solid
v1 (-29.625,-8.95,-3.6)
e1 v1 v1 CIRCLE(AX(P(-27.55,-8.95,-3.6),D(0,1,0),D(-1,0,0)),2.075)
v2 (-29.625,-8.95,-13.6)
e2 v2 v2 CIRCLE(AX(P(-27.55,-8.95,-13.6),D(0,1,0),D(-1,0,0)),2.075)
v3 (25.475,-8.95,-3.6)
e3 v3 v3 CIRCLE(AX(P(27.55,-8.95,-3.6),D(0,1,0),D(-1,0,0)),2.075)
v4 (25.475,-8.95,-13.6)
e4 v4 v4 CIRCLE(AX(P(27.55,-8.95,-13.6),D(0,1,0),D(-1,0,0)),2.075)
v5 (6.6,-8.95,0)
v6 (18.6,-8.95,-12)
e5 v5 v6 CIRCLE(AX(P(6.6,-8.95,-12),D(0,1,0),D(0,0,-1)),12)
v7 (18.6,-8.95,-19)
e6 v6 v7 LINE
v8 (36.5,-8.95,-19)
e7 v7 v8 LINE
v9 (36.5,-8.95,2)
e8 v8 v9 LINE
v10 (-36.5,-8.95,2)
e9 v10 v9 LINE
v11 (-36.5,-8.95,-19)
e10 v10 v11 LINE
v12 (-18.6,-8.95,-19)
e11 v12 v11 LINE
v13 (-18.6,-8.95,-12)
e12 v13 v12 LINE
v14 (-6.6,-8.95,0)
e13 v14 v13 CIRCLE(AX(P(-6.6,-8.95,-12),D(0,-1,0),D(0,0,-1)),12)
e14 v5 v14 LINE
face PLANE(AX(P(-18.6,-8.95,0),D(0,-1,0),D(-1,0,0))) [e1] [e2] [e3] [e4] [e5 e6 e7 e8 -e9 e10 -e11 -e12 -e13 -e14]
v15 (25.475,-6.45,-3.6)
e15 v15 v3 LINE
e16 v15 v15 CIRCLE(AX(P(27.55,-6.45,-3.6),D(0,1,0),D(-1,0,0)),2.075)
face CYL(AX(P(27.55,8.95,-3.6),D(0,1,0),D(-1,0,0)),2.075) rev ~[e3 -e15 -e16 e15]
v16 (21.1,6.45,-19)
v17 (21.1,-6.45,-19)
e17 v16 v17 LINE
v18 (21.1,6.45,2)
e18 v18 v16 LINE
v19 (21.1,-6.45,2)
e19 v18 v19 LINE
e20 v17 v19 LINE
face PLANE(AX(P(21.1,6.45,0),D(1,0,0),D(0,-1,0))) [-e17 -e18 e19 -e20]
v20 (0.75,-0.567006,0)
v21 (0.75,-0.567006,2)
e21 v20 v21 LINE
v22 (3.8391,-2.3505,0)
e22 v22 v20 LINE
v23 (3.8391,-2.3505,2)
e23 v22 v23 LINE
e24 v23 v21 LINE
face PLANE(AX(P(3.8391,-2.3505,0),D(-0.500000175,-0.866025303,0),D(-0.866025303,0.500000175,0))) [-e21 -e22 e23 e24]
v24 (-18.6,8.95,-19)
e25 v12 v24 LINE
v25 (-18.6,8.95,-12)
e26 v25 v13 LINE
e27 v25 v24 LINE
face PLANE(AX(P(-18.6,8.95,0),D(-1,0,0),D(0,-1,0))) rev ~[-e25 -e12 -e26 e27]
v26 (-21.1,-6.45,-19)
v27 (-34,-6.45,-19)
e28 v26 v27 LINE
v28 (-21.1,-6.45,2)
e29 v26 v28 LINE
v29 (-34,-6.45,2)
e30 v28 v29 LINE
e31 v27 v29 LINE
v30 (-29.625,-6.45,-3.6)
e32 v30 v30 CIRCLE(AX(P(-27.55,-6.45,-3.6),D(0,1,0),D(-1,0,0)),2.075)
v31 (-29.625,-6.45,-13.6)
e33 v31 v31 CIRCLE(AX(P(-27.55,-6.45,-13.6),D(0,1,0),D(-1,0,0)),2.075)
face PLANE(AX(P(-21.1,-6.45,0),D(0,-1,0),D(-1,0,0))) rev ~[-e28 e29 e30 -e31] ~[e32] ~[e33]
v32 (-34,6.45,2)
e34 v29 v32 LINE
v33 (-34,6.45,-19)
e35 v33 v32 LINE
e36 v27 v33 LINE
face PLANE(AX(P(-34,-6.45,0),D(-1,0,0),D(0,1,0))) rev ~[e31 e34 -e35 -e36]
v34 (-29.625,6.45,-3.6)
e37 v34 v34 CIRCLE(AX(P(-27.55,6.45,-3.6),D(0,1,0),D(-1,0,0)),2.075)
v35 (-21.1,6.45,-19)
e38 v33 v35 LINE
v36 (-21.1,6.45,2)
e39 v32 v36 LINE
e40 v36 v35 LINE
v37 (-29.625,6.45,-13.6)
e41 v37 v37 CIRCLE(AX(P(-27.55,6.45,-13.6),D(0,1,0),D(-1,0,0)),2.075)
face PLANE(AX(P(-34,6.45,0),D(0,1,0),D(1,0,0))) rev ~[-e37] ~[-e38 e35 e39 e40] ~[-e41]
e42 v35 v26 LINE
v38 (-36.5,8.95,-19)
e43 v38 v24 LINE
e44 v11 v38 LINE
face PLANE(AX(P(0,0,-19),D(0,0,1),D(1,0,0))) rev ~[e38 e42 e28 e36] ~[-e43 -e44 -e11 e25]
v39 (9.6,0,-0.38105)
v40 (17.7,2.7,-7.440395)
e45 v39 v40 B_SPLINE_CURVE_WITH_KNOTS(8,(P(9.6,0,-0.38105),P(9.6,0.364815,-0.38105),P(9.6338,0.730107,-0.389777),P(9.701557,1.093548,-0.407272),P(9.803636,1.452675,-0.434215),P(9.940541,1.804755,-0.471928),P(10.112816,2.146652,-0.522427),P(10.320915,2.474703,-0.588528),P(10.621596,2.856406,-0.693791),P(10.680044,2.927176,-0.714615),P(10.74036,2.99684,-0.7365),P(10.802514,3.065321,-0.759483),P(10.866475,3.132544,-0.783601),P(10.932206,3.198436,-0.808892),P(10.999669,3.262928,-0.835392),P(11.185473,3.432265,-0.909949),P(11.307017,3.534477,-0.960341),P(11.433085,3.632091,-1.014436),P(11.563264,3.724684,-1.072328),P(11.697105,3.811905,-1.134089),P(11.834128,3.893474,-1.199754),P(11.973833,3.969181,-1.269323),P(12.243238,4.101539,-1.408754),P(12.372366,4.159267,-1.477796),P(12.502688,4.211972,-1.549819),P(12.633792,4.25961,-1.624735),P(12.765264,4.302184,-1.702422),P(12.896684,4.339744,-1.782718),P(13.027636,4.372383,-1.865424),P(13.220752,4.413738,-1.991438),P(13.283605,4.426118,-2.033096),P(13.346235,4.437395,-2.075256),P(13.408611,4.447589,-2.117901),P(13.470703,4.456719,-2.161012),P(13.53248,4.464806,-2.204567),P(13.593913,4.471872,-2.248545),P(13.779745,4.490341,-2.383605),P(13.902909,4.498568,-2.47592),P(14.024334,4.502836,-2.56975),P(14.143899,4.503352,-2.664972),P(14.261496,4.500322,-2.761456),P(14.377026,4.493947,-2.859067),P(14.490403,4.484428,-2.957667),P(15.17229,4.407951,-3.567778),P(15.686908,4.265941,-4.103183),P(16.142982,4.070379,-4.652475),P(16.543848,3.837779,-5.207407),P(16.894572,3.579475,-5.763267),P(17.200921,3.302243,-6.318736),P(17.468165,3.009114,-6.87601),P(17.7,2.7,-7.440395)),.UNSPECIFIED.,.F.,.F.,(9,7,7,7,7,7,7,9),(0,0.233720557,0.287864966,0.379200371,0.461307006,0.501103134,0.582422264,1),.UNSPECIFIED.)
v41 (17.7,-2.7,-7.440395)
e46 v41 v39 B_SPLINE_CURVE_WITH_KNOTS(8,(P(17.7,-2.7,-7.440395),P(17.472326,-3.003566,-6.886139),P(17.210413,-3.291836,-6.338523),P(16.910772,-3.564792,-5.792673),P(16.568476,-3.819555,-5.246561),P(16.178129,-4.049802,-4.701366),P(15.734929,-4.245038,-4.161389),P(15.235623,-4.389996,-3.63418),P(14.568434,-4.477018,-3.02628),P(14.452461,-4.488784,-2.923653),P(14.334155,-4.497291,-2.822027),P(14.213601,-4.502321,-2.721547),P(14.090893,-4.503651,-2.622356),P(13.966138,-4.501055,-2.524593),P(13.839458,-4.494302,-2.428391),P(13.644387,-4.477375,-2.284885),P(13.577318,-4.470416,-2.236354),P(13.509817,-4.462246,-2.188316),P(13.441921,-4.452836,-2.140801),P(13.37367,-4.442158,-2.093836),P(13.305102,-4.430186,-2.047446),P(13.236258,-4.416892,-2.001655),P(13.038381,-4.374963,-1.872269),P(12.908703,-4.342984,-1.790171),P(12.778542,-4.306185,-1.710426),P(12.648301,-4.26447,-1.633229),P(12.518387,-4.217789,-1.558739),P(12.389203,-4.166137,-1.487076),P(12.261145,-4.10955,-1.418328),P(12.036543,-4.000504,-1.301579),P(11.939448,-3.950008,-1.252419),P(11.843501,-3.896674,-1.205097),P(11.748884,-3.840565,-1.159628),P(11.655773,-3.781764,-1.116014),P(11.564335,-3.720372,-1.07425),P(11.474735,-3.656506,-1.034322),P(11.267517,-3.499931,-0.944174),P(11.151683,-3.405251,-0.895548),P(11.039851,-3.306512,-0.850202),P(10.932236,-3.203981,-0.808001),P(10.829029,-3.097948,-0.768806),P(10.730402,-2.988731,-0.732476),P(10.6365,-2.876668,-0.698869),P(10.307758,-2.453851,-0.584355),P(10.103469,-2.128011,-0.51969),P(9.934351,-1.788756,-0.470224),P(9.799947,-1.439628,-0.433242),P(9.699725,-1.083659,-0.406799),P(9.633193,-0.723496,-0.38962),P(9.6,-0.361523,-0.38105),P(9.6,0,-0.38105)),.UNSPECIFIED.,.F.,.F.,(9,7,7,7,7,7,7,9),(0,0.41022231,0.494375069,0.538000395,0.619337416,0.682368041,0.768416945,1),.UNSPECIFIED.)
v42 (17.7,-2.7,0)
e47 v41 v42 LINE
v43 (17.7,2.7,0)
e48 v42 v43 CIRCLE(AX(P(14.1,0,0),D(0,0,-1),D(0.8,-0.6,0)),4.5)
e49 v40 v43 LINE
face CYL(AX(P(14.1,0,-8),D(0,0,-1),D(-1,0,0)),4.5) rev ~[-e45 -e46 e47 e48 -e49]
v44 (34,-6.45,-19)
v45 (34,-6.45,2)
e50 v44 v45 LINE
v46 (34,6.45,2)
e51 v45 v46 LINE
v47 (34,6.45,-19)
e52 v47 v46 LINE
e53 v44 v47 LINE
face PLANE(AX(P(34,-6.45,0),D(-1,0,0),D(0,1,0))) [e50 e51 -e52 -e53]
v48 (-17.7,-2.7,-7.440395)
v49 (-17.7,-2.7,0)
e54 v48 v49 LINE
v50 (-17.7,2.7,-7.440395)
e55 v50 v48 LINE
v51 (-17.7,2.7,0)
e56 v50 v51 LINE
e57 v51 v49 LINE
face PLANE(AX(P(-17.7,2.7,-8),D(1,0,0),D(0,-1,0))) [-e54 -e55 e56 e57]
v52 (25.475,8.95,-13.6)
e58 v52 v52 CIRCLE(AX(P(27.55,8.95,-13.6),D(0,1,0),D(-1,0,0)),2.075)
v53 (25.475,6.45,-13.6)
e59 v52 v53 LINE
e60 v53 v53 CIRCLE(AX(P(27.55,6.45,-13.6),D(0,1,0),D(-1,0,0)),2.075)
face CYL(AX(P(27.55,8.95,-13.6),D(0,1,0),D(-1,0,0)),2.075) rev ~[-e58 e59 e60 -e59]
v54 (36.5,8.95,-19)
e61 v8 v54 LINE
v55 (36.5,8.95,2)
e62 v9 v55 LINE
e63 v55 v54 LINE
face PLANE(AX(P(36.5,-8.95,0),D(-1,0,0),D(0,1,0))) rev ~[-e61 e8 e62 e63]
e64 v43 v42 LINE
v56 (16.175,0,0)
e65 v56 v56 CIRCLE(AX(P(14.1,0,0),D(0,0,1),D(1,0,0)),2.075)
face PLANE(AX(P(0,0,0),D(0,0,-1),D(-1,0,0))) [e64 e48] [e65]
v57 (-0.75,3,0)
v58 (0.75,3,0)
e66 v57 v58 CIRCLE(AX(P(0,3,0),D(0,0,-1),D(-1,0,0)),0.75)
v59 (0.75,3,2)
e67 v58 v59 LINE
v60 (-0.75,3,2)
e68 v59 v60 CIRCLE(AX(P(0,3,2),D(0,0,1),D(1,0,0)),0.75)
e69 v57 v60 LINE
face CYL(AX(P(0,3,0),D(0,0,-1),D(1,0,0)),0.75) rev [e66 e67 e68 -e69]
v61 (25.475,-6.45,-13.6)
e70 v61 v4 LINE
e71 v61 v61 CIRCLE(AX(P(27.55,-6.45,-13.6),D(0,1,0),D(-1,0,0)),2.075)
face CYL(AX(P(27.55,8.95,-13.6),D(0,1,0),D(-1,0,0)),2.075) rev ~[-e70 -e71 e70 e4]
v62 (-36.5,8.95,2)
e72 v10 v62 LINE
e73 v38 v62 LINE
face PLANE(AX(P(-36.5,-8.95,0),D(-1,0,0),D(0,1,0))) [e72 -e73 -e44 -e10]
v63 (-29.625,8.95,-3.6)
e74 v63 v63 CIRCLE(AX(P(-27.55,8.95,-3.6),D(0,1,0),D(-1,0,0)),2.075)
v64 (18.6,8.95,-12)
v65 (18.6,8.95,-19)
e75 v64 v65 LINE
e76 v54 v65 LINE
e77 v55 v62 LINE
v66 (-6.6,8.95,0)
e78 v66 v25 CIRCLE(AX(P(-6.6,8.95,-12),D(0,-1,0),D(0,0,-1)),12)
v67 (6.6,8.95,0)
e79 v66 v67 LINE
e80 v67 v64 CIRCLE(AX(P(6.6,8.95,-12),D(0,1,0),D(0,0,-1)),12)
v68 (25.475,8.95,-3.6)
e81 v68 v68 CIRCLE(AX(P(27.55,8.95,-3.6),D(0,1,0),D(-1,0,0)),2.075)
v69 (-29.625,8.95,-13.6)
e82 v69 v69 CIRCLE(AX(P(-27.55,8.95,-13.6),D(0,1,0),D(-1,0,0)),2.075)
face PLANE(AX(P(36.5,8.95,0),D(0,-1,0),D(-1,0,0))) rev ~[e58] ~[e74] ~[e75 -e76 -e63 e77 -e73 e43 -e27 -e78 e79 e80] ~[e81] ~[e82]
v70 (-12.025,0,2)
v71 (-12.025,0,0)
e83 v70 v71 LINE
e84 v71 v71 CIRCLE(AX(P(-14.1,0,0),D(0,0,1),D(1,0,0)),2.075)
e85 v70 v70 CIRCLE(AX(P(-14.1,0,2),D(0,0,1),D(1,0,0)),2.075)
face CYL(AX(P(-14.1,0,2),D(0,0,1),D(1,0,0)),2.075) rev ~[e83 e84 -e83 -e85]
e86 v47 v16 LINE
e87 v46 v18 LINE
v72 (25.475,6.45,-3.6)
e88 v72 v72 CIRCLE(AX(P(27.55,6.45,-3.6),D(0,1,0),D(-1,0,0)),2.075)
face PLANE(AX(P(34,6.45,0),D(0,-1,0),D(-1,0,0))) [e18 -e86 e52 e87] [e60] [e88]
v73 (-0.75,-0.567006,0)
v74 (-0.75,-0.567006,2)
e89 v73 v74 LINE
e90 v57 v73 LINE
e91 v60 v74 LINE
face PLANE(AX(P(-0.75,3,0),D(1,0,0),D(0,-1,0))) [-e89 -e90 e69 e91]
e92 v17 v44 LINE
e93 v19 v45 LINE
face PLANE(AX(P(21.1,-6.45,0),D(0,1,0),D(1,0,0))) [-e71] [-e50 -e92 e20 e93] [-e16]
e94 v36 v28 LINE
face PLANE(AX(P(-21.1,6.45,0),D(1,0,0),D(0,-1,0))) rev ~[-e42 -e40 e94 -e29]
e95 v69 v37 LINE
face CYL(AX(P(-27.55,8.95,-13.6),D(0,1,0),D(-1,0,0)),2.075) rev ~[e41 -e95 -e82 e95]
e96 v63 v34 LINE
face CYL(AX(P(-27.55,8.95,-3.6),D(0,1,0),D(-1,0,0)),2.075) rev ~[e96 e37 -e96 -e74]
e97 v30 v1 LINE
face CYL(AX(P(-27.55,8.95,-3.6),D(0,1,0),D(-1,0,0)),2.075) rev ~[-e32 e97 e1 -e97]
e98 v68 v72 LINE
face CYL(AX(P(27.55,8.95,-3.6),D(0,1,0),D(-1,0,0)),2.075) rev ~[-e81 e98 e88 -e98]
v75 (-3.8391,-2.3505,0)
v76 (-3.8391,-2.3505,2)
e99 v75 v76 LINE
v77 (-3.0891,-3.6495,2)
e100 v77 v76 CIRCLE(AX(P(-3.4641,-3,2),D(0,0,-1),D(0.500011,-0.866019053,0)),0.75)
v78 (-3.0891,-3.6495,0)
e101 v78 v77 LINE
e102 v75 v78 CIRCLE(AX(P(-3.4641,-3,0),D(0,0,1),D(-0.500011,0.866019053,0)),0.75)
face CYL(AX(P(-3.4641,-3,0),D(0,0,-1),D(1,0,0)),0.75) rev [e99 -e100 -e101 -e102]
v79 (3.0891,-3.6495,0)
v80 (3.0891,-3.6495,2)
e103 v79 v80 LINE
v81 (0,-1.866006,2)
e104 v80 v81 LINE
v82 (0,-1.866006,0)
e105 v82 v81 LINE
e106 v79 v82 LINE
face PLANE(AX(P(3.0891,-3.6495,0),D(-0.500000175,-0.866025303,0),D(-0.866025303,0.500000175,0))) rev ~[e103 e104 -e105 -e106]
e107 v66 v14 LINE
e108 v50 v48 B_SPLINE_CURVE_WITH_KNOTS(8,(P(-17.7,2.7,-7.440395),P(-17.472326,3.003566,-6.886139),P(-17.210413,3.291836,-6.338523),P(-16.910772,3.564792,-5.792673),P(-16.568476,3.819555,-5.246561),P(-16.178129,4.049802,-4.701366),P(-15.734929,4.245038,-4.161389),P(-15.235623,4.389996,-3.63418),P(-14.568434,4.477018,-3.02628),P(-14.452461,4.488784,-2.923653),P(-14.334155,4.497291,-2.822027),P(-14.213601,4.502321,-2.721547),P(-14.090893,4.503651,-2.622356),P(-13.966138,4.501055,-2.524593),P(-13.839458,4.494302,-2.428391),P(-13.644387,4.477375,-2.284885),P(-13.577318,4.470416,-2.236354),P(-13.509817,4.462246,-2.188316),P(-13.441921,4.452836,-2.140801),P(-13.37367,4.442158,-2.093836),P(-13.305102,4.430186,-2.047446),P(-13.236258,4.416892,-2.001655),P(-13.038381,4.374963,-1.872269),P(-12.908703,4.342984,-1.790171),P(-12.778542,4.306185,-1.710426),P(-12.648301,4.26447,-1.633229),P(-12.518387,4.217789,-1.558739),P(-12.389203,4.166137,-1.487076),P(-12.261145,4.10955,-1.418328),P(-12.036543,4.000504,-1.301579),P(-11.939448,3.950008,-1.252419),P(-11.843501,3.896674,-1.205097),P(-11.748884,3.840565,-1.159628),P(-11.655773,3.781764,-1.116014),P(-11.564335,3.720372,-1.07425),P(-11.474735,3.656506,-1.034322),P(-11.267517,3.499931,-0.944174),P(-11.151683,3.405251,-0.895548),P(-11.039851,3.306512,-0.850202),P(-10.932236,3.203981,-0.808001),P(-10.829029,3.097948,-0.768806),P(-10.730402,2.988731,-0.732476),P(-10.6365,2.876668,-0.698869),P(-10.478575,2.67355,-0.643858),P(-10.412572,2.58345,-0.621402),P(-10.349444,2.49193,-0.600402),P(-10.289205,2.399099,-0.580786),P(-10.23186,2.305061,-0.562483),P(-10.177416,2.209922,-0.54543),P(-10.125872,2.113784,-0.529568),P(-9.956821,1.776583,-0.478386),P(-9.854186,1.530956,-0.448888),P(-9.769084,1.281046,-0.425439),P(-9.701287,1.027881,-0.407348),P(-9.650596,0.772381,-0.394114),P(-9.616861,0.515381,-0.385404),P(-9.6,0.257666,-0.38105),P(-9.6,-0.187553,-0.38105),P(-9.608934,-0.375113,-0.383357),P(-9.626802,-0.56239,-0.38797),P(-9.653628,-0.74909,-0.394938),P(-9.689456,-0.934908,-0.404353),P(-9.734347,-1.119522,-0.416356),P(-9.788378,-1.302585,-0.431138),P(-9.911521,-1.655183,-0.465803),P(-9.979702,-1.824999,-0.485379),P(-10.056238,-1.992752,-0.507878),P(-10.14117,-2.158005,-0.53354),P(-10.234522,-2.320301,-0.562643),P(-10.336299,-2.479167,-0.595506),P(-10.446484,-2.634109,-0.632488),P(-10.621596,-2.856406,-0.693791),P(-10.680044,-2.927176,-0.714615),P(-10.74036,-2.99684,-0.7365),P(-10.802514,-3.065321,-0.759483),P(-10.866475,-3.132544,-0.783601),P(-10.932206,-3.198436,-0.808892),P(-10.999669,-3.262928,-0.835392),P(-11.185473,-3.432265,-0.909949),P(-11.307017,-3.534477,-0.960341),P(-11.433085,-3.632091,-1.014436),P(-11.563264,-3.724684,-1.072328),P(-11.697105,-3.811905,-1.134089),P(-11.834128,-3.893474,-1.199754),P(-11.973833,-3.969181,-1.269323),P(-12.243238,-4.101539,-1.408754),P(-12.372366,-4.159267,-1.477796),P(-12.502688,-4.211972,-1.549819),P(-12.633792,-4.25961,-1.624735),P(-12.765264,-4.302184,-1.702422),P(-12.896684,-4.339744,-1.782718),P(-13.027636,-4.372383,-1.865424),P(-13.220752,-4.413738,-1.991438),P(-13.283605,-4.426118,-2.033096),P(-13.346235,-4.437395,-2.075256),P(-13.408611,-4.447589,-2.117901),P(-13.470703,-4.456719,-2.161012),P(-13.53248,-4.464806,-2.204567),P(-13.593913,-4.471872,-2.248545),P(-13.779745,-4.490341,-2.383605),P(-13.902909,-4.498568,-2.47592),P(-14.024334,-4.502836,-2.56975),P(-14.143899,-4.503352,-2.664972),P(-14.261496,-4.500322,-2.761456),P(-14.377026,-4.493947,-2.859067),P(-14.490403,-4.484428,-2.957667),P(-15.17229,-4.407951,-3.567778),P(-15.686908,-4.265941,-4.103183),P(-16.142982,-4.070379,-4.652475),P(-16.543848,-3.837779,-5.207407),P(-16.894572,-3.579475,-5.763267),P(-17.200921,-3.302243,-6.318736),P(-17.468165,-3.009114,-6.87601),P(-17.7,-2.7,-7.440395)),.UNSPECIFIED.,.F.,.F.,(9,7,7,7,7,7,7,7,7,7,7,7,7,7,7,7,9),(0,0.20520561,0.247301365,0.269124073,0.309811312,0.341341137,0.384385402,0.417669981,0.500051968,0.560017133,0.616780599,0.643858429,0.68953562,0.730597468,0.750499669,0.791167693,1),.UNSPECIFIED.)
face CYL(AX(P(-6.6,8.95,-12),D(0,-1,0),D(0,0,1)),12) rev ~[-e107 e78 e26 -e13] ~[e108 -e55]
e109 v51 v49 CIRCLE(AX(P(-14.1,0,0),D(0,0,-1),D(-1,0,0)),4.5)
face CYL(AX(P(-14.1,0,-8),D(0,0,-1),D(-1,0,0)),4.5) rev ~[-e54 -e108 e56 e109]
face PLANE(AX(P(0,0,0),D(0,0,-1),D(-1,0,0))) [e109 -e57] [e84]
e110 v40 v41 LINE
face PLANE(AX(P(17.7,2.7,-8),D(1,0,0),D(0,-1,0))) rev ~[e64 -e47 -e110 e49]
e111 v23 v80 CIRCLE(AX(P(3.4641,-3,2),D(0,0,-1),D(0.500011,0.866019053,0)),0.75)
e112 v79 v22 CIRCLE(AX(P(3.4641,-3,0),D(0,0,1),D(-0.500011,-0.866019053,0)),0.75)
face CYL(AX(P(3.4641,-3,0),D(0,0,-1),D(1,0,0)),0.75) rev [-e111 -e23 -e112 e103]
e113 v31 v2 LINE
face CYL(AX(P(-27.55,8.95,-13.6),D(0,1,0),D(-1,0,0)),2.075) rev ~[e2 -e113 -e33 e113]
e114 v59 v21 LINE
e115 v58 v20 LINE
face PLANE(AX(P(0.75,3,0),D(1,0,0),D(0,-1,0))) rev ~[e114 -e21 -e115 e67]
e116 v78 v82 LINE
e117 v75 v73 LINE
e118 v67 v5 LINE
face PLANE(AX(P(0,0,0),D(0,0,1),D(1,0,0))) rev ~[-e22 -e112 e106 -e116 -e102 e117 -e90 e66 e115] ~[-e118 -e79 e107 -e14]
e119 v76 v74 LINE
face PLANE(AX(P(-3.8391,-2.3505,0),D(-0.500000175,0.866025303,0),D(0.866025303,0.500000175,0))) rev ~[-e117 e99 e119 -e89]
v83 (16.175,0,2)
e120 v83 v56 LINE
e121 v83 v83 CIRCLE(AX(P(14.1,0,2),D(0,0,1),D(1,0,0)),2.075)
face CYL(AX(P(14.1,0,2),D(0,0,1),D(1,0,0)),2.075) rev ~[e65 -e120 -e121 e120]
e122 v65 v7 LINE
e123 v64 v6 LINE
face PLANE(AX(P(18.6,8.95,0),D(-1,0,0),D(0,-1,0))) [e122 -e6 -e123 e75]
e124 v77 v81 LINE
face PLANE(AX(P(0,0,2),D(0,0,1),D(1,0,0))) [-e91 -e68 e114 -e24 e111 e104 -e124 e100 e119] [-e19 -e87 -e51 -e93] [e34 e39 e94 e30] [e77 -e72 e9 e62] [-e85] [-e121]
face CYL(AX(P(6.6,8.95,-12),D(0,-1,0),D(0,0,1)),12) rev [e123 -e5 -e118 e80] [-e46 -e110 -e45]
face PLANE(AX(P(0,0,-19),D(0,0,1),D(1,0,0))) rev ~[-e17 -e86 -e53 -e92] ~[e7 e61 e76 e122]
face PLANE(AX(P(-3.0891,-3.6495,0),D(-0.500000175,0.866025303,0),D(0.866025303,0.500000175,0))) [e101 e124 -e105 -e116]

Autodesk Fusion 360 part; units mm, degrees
sketch "Sketch1" plane through (0, 0, 0) normal (0, 0, 1) x (1, 0, 0)
  line L0 (7.1, 7.1) -> (-7.1, 7.1)
  line L1 (-7.1, 7.1) -> (-7.1, -7.1)
  line L2 (-7.1, -7.1) -> (7.1, -7.1)
  line L3 (7.1, -7.1) -> (7.1, 7.1)
  line L4 (0, 3) -> (0, -1) construction
  line L5 (-0.75, 3) -> (-0.75, -1)
  line L6 (0.75, 3) -> (0.75, -1)
  circle A0 centre (0, 3) radius 0.75
  line L7 (-3.0891, -3.6495) -> (0.375, -1.6495)
  circle A1 centre (-3.4641, -3) radius 0.75
  line L8 (-3.8391, -2.3505) -> (-0.375, -0.3505)
  line L9 (-3.4641, -3) -> (0, -1) construction
  line L10 (3.8391, -2.3505) -> (0.375, -0.3505)
  circle A2 centre (3.4641, -3) radius 0.75
  line L11 (3.0891, -3.6495) -> (-0.375, -1.6495)
  line L12 (3.4641, -3) -> (0, -1) construction
  line L13 (-4.2141, 3.75) -> (4.2141, 3.75)
  line L14 (4.2141, 3.75) -> (4.2141, -3.75)
  line L15 (4.2141, -3.75) -> (-4.2141, -3.75)
  line L16 (-4.2141, -3.75) -> (-4.2141, 3.75)
  line L17 (-7.1, 0) -> (7.1, 0) construction
  line L18 (0, 7.1) -> (0, -7.1) construction
  point P0 (0, -3.75)
  point P1 (-4.2141, 0)
  dimension "d38" = 14.2
  dimension "d41" = 4
  dimension "d42" = 0.75
  dimension "d43" = -0.75
  dimension "d45" = 360
extrude "Extrude1" add sketch "Sketch1" along normal blind 2 contours L0 L1 L2 L3 | L5 A0 A1 L8 L13 L16 | L6 A0 L10 A2 L13 L14 | A1 L15 L16 | A2 L14 L15 | L7 A1 A2 L11 L15
sketch "Sketch2" plane through (0, 0, 0) normal (0, 0, 1) x (1, 0, 0)
  line L0 (-33.9, 6.35) -> (-21.2, 6.35) construction
  line L1 (-21.2, 6.35) -> (-21.2, -6.35) construction
  line L2 (-21.2, -6.35) -> (-33.9, -6.35) construction
  line L3 (-33.9, -6.35) -> (-33.9, 6.35) construction
  line L4 (21.2, 6.35) -> (33.9, 6.35) construction
  line L5 (33.9, 6.35) -> (33.9, -6.35) construction
  line L6 (33.9, -6.35) -> (21.2, -6.35) construction
  line L7 (21.2, -6.35) -> (21.2, 6.35) construction
  line L8 (-21.2, 0) -> (21.2, 0) construction
  line L9 (-21.1, -6.45) -> (-34, -6.45)
  line L10 (-34, -6.45) -> (-34, 6.45)
  line L11 (-34, 6.45) -> (-21.1, 6.45)
  line L12 (-21.1, 6.45) -> (-21.1, -6.45)
  line L13 (-18.6, -8.95) -> (-36.5, -8.95)
  line L14 (-36.5, -8.95) -> (-36.5, 8.95)
  line L15 (-36.5, 8.95) -> (-18.6, 8.95)
  line L16 (-18.6, 8.95) -> (-18.6, -8.95)
  line L17 (0, 2.5) -> (0, 20)
  line L18 (34, -6.45) -> (34, 6.45)
  line L19 (34, 6.45) -> (21.1, 6.45)
  line L20 (21.1, 6.45) -> (21.1, -6.45)
  line L21 (21.1, -6.45) -> (34, -6.45)
  line L22 (36.5, -8.95) -> (36.5, 8.95)
  line L23 (36.5, 8.95) -> (18.6, 8.95)
  line L24 (18.6, -8.95) -> (36.5, -8.95)
  line L25 (18.6, 8.95) -> (18.6, -8.95)
  line L26 (-18.6, -2.6) -> (-18.6, -8.95)
  line L27 (-18.6, 8.95) -> (18.6, 8.95)
  line L28 (18.6, -8.95) -> (-18.6, -8.95)
  line L29 (-7.1, 7.1) -> (-7.1, -7.1)
  line L30 (-7.1, -7.1) -> (7.1, -7.1)
  line L31 (7.1, -7.1) -> (7.1, 7.1)
  line L32 (7.1, 7.1) -> (-7.1, 7.1)
  dimension "d18" = 12.7
  dimension "d19" = 12.7
  dimension "d20" = 42.4
  dimension "d23" = -2.5
extrude "Extrude2" add sketch "Sketch2" along normal blind 2
extrude "Extrude3" add sketch "Sketch2" against normal blind 19 contours L13 L14 L15 L16 L26 | L22 L23 L24 L25
fillet "Fillet1" radius 12 2 edges at (-18.6, 0, 0) (18.6, 0, 0)
sketch "Sketch3" plane through (0, 8.95, 0) normal (0, 1, 0) x (-1, 0, 0)
  line L0 (36.5, -19) -> (36.5, 2)
  line L1 (36.5, 2) -> (-36.5, 2)
  line L2 (18.6, -12) -> (18.6, -19)
  line L3 (-36.5, -19) -> (-18.6, -19)
  circle A0 centre (-27.55, -13.6) radius 2.075
  circle A1 centre (-27.55, -3.6) radius 2.075
  line L4 (-27.55, -19) -> (-27.55, 2) construction
  line L5 (-36.5, 2) -> (-36.5, -19)
  line L6 (-18.6, -19) -> (-18.6, -12)
  line L7 (18.6, -19) -> (36.5, -19)
  line L8 (0, 1.75) -> (0, 22.5)
  circle A2 centre (27.55, -13.6) radius 2.075
  circle A3 centre (27.55, -3.6) radius 2.075
  dimension "d32" = 4.15
  dimension "d33" = 10
  dimension "d34" = 5.6
extrude "Extrude4" cut sketch "Sketch3" against normal blind 17.9
sketch "Sketch4" plane through (0, 0, 2) normal (0, 0, 1) x (1, 0, 0)
  line L0 (36.5, -8.95) -> (36.5, 8.95)
  line L1 (36.5, 8.95) -> (-36.5, 8.95)
  line L2 (-36.5, 8.95) -> (-36.5, -8.95)
  line L3 (-36.5, -8.95) -> (36.5, -8.95)
  line L4 (-34, 6.45) -> (-21.1, 6.45)
  line L5 (-21.1, 6.45) -> (-21.1, -6.45)
  line L6 (-21.1, -6.45) -> (-34, -6.45)
  line L7 (-34, -6.45) -> (-34, 6.45)
  line L8 (34, -6.45) -> (21.1, -6.45)
  line L9 (21.1, -6.45) -> (21.1, 6.45)
  line L10 (21.1, 6.45) -> (34, 6.45)
  line L11 (34, 6.45) -> (34, -6.45)
  line L12 (0.75, -0.567) -> (3.8391, -2.3505)
  arc A0 (3.0891, -3.6495) -> (3.8391, -2.3505) centre (3.4641, -3) ccw
  line L13 (3.0891, -3.6495) -> (0, -1.866)
  line L14 (0, -1.866) -> (-3.0891, -3.6495)
  arc A1 (-3.8391, -2.3505) -> (-3.0891, -3.6495) centre (-3.4641, -3) ccw
  line L15 (-3.8391, -2.3505) -> (-0.75, -0.567)
  line L16 (-0.75, -0.567) -> (-0.75, 3)
  arc A2 (0.75, 3) -> (-0.75, 3) centre (0, 3) ccw
  line L17 (0.75, 3) -> (0.75, -0.567)
  line L18 (21.1, -6.45) -> (21.1, 6.45)
  line L19 (-21.1, 6.45) -> (-21.1, -6.45)
  circle A3 centre (-14.1, 0) radius 2.075
  line L20 (-21.1, 0) -> (21.1, 0) construction
  line L21 (0, 2.5) -> (0, 20)
  circle A4 centre (14.1, 0) radius 2.075
  dimension "d47" = 4.15
  dimension "d48" = 7
extrude "Extrude5" cut sketch "Sketch4" against normal blind 21 contours A3 | A4
ref_plane "WorkPlane1" through (0, 0, -8) normal (0, 0, -1) x (-1, 0, 0)
sketch "Sketch5" plane through (0, 0, -8) normal (0, 0, -1) x (-1, 0, 0)
  line L0 (-21.1, 6.45) -> (-21.1, -6.45)
  line L1 (21.1, -6.45) -> (21.1, 6.45)
  line L2 (-21.1, 0) -> (21.1, 0) construction
  circle A0 centre (-14.1, 0) radius 4.5
  line L3 (-17.7, 2.7) -> (-17.7, -2.7)
  line L4 (0, 1.75) -> (0, 22.5)
  circle A1 centre (14.1, 0) radius 4.5
  line L5 (17.7, 2.7) -> (17.7, -2.7)
  dimension "d52" = 9
  dimension "d53" = 7
  dimension "d54" = 3.6
extrude "Extrude6" cut sketch "Sketch5" against normal blind 8 contours A0 L3 | A1 L5 picked at (-15.0162, 0.2196) picked at (14.4429, 0.1257)
equation "mounting_size = 1.5 mm"
equation "d16 = frontal_width"
equation "d21 = -tolerance_bar"
equation "tolerance_bar = 0.1 mm"
equation "d25 = frontal_width"
equation "d30 = 13 mm - ( 4 / 4 ) * 1 mm"
equation "tolerance_hole = 0.15 mm"
equation "d32 = 4 mm + tolerance_hole"
equation "d42 = mounting_size / 2"
equation "d43 = -d42"
equation "frontal_width = 2 mm"
equation "d47 = 4 mm + tolerance_hole"
